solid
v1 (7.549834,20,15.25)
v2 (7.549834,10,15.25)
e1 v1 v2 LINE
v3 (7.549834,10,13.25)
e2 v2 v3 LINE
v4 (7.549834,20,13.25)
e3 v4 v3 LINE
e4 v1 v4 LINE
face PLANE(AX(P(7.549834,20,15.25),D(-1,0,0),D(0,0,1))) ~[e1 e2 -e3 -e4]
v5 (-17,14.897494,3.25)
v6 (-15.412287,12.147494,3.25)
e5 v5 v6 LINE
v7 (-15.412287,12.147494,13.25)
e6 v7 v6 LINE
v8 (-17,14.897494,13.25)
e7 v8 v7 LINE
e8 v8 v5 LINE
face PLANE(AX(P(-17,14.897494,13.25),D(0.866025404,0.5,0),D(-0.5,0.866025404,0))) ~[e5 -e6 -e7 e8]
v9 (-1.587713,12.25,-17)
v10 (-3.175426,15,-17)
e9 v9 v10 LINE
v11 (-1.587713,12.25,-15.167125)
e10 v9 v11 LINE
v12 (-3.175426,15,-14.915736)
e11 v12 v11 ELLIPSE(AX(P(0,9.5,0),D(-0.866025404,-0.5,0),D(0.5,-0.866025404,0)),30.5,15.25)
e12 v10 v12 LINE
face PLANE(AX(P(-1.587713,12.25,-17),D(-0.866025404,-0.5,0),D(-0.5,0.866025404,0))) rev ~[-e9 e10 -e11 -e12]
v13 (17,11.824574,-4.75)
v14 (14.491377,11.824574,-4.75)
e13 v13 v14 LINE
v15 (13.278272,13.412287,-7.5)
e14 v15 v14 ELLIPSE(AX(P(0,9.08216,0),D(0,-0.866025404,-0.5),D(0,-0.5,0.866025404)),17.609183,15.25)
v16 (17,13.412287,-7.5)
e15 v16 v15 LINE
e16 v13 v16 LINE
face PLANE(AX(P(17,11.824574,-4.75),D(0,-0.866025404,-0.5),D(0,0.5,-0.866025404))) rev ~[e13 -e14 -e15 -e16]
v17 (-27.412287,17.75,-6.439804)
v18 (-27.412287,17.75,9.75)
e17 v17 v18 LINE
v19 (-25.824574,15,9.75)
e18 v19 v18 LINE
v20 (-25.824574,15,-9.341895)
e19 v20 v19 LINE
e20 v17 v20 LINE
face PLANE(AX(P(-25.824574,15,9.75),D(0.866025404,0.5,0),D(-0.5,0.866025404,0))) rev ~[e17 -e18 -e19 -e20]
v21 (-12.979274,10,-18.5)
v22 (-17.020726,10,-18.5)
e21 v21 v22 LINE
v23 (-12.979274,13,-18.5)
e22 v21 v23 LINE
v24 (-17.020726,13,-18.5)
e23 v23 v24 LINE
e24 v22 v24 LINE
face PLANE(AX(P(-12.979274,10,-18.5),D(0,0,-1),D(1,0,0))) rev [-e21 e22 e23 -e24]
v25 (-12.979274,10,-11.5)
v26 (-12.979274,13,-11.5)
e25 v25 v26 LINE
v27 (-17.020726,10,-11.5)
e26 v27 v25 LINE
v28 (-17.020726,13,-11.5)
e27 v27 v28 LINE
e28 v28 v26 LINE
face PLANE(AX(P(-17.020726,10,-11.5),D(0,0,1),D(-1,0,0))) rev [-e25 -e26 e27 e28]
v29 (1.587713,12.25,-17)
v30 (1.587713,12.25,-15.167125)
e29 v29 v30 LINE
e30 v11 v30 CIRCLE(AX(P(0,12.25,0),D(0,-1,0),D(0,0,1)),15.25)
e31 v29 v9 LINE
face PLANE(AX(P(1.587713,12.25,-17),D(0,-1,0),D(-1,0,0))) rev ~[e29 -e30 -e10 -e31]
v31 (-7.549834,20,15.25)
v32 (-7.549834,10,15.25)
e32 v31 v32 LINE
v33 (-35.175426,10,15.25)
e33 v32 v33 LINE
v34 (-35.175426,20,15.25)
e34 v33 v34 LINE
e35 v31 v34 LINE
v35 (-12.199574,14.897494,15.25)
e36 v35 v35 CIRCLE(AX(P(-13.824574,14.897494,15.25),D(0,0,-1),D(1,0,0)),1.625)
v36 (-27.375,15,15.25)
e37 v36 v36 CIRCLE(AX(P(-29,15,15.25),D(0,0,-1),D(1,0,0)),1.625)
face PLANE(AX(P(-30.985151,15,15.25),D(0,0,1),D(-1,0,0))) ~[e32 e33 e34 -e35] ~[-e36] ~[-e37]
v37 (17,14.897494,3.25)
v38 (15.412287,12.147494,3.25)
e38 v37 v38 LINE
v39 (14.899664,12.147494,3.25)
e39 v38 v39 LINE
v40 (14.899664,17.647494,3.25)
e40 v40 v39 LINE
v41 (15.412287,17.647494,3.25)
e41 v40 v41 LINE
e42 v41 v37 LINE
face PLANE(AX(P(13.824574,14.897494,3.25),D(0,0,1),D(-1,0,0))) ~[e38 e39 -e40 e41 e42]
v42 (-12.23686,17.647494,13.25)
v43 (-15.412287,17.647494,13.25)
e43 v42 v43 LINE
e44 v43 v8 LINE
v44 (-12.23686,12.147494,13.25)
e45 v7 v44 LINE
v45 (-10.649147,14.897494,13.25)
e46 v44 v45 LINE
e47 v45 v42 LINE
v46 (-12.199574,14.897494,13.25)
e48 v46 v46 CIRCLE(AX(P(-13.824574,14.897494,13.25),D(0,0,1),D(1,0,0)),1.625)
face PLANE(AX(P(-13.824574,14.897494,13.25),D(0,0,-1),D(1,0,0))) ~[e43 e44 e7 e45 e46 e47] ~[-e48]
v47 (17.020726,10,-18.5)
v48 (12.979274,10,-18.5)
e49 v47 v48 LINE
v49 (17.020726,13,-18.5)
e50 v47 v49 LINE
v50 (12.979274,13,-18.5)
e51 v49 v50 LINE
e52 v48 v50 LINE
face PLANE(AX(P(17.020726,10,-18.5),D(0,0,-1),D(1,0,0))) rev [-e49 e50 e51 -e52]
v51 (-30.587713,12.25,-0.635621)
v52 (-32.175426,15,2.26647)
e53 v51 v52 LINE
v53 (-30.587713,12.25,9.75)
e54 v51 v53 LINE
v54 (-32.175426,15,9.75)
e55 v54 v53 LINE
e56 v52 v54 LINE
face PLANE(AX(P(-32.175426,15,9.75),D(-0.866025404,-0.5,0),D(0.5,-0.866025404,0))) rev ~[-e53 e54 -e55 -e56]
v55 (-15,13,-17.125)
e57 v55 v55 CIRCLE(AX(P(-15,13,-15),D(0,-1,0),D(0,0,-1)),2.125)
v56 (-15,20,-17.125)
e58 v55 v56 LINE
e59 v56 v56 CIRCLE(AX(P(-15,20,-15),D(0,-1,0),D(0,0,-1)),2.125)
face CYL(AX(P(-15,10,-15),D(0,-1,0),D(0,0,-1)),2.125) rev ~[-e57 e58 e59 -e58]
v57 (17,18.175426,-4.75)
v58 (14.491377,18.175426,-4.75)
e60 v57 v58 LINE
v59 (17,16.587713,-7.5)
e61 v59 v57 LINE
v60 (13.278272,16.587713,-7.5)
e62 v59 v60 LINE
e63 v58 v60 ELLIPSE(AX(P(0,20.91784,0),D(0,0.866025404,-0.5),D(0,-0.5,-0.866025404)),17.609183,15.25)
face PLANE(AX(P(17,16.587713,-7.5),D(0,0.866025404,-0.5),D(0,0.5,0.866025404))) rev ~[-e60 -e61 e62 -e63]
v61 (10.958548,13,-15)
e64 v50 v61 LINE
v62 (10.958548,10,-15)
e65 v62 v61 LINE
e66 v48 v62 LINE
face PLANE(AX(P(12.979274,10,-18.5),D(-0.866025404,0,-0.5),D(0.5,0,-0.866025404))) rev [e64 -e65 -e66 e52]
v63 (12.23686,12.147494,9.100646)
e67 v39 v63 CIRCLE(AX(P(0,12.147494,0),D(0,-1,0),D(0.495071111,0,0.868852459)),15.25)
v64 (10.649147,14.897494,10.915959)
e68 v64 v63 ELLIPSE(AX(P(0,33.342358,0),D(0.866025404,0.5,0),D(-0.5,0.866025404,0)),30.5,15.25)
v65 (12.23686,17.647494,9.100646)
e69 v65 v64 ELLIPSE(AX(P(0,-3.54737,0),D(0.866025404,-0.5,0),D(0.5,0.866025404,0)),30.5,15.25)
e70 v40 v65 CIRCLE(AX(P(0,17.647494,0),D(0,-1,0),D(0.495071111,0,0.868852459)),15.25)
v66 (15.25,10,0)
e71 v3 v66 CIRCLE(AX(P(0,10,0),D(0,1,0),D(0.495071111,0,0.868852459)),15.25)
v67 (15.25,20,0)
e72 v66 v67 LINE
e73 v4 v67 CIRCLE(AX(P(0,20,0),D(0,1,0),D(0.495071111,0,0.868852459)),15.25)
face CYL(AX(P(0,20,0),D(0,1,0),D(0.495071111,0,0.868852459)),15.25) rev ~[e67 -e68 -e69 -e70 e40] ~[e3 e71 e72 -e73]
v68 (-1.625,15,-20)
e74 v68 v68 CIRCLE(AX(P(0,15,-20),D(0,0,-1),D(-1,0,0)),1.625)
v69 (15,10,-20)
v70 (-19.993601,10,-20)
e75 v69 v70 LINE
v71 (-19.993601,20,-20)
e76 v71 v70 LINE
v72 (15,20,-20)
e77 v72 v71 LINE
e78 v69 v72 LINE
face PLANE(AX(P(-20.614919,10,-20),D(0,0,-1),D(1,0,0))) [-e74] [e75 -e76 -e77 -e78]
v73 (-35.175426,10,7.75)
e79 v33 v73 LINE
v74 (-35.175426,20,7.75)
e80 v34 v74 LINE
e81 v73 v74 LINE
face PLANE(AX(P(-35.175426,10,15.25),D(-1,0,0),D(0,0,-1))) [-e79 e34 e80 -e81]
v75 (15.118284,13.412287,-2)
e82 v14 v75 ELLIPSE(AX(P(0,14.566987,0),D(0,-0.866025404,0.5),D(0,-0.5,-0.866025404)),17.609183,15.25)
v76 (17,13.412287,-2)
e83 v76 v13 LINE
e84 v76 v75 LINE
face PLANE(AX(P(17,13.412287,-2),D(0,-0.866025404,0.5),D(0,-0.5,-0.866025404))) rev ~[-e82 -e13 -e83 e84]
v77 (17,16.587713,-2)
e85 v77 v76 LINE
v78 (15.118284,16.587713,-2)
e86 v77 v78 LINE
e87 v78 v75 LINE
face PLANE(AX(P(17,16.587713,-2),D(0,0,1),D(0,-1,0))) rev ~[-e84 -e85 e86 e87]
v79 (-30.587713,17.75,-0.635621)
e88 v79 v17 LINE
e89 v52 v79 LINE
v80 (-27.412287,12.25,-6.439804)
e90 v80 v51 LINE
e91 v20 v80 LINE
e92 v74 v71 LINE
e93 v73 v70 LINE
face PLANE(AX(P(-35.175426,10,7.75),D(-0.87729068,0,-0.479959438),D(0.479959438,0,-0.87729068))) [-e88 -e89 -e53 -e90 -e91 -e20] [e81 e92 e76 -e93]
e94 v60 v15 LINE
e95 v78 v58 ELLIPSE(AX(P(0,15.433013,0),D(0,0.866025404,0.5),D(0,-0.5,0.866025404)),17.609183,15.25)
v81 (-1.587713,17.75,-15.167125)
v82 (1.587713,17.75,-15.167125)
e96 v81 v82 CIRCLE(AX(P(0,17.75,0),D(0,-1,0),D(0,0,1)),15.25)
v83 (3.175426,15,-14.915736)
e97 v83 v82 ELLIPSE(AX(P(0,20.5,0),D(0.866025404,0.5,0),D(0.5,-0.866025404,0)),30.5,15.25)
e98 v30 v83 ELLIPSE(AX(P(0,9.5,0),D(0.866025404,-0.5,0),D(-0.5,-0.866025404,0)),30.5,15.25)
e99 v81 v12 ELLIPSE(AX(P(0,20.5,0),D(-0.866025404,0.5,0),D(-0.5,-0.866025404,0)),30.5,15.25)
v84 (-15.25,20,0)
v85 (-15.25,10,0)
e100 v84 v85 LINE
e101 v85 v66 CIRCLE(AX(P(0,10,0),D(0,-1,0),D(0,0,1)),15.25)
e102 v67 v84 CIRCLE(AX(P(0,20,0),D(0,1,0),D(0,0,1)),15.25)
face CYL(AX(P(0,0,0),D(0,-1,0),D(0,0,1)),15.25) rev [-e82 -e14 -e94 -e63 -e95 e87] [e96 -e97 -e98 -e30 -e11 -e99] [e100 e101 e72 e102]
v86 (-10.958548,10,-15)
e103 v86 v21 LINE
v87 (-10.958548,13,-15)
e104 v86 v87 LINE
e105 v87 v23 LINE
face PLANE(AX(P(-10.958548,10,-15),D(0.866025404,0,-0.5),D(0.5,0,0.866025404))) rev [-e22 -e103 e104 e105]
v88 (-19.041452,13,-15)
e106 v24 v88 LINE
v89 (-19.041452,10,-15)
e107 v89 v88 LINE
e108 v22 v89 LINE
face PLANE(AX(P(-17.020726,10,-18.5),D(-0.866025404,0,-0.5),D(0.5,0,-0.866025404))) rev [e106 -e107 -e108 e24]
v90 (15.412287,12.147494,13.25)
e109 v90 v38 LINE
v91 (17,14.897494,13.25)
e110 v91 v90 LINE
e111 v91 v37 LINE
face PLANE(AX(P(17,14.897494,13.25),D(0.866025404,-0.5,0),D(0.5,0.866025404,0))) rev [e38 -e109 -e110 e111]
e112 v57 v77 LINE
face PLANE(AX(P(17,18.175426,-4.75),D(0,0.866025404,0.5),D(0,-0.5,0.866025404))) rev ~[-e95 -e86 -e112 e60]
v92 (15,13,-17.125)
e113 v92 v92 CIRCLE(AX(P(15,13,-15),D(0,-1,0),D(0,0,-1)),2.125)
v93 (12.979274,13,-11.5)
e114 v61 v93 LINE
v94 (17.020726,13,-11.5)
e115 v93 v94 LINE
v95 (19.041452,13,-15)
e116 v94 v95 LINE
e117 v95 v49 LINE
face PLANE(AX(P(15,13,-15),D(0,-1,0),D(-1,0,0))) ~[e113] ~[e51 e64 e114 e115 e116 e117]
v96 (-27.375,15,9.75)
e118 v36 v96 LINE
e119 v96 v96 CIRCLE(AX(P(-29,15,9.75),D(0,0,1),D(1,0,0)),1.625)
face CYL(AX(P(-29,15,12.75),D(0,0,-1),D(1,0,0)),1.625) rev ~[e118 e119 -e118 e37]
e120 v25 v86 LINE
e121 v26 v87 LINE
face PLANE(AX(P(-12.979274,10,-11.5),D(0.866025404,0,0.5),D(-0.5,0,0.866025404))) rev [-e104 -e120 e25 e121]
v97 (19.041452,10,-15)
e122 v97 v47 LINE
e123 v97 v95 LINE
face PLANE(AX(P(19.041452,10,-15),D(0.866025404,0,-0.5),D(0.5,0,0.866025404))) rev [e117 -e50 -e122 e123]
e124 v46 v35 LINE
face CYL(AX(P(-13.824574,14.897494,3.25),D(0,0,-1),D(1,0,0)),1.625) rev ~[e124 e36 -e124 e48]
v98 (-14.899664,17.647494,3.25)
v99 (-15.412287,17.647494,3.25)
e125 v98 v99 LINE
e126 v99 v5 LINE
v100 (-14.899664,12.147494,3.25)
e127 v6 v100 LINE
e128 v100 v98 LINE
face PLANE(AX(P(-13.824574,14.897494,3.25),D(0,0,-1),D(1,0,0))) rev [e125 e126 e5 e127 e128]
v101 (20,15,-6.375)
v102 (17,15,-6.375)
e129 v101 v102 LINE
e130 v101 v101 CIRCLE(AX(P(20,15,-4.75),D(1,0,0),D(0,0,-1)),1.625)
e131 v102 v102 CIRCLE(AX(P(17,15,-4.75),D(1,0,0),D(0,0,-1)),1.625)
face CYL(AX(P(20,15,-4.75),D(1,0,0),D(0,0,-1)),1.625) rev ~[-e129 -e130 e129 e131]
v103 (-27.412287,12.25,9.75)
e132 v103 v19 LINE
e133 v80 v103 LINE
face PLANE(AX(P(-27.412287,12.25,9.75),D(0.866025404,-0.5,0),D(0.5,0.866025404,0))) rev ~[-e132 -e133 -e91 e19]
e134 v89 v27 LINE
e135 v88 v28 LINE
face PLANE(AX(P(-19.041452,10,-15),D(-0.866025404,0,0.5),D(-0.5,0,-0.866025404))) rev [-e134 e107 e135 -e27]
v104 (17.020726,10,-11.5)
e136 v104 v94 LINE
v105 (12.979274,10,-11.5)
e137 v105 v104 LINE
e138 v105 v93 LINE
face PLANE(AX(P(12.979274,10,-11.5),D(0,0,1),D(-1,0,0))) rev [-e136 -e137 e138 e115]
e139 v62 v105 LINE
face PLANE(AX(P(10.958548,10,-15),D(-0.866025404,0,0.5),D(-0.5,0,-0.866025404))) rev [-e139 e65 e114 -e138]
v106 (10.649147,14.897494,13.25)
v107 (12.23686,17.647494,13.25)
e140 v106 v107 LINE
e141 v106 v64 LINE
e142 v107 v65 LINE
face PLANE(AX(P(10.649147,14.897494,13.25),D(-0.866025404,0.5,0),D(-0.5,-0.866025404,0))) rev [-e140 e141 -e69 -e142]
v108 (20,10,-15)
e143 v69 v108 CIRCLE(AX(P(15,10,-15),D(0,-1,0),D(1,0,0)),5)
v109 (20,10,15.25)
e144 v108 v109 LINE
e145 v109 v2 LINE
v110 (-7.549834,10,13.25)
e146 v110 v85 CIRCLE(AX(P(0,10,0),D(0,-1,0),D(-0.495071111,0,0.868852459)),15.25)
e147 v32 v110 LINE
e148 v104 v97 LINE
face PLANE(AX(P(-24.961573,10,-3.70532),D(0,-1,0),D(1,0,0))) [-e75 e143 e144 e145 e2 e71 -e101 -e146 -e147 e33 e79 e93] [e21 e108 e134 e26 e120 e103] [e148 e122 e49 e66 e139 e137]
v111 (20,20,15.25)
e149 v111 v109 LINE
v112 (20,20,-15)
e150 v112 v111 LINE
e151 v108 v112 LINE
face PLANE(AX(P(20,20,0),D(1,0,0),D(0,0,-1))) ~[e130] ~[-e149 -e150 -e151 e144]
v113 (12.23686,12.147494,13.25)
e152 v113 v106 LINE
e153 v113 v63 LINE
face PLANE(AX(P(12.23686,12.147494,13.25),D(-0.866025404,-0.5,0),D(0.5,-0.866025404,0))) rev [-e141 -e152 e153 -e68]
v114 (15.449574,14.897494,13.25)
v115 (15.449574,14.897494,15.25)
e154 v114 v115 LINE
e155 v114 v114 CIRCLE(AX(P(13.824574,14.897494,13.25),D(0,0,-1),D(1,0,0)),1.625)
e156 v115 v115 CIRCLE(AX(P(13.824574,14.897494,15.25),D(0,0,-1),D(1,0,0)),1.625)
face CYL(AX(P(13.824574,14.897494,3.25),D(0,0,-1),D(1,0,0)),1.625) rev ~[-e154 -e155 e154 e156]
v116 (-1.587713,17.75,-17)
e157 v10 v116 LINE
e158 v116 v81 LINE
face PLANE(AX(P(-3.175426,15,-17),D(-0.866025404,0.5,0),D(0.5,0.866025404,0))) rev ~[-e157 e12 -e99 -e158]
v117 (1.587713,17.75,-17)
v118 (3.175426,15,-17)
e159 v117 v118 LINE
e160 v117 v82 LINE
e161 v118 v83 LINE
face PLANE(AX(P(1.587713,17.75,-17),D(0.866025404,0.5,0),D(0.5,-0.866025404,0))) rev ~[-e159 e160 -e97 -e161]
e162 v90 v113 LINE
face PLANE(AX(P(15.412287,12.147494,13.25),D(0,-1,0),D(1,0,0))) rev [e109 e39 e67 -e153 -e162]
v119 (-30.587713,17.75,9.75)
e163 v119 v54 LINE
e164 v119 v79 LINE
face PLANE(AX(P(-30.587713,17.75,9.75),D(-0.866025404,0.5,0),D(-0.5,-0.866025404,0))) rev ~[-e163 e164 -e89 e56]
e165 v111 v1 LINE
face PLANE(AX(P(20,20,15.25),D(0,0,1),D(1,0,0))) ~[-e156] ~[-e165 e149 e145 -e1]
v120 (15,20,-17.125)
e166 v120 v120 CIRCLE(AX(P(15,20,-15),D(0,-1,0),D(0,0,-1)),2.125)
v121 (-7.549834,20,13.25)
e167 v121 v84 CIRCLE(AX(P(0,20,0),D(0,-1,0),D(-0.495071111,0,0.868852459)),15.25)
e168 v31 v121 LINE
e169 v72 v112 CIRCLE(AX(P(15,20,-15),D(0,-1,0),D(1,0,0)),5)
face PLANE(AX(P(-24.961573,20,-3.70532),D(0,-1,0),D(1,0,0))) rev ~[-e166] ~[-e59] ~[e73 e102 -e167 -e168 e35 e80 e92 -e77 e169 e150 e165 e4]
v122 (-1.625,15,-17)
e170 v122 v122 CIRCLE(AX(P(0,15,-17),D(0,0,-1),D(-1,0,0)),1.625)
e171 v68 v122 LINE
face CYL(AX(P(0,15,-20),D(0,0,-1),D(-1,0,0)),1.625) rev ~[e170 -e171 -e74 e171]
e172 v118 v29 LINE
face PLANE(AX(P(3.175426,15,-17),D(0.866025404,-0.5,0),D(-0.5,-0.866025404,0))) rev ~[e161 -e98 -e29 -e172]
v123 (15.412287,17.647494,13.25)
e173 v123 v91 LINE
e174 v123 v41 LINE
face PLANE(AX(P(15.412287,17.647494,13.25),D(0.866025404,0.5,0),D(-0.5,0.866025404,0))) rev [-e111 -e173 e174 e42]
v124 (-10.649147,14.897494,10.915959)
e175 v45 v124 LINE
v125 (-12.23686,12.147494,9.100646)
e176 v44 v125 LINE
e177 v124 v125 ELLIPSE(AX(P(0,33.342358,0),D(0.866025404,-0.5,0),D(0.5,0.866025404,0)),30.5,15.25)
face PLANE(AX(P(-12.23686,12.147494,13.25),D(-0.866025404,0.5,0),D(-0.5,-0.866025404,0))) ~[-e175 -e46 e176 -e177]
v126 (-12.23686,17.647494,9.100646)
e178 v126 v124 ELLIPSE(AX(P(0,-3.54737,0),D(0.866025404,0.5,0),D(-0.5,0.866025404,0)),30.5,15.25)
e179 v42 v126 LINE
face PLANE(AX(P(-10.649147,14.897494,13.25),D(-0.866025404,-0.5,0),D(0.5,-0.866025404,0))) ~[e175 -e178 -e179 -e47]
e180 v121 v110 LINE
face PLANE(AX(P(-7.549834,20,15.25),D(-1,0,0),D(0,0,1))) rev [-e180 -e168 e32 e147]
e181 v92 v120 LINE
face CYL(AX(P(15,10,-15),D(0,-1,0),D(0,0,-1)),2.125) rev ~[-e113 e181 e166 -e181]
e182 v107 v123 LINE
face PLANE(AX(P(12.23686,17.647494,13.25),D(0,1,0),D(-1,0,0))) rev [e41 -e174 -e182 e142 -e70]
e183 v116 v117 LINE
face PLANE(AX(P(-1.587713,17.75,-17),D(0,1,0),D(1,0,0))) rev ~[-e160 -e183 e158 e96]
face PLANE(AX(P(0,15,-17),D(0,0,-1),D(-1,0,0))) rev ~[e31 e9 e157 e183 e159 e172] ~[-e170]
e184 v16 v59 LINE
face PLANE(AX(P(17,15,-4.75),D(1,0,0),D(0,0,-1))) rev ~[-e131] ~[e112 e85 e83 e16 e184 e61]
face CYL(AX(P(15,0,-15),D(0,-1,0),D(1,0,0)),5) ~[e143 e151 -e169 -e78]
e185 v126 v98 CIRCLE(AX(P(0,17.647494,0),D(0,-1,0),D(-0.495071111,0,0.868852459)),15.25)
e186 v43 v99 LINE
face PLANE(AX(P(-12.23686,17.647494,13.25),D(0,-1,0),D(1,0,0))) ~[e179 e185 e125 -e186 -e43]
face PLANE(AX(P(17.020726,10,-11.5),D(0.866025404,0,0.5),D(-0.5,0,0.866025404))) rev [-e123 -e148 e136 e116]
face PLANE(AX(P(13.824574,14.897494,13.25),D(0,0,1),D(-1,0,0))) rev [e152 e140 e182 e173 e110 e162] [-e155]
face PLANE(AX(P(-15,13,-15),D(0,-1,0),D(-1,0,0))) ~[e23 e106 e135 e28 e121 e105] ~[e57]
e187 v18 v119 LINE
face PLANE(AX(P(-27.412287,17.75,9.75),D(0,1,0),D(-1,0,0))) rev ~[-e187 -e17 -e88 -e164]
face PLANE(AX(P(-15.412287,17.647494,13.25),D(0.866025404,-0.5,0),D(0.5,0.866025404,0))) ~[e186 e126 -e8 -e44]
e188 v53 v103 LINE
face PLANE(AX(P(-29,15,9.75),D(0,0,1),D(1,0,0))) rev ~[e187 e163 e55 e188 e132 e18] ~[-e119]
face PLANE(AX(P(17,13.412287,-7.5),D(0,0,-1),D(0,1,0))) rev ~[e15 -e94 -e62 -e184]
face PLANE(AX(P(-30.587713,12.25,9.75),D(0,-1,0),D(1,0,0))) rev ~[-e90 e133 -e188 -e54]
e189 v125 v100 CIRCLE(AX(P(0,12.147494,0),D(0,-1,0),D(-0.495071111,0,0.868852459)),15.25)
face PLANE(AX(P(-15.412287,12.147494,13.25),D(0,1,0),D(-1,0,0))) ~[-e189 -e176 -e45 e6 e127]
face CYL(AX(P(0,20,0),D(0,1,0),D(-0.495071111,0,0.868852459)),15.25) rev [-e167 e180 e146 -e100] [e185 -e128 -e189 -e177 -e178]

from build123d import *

# Parameters (mm, degrees)
CROQUIS1_R                              = 15.25
CROQUIS1_R_2                            = 2.125
SOPORTE_CAJA_REDUCTORA_DEPTH            = 20
CROQUIS3_R                              = 2.125
CORTAR_EXTRUIR1_DEPTH                   = 51.423828692
REDONDEO1_R                             = 5
BOSS_EXTRUDE1_DEPTH                     = 20
CUT_EXTRUDE1_REACH                      = 55.852
SKETCH2_R                               = 1.625
CUT_EXTRUDE2_DEPTH                      = 2
SKETCH4_R                               = 1.625
CUT_EXTRUDE3_DEPTH                      = 63.291652731
CUT_EXTRUDE4_START                      = -4.5
CUT_EXTRUDE4_DEPTH                      = 2
CROQUIS6_W                              = 4.75
CROQUIS6_H                              = 4.75
CORTAR_EXTRUIR17_DEPTH                  = 42.231056256
CROQUIS7_W                              = 60
CROQUIS7_H                              = 20
CORTAR_EXTRUIR18_DEPTH                  = 51.423828692
SALIENTE_EXTRUIR2_DEPTH                 = 49
SOPORTE_START                           = -15
SOPORTE_MOTOR_DEPTH                     = 15
CROQUIS12_R                             = 2.125
AGUJEROS_DE_SUJECION_A_BASE_DEPTH       = 84.087679592
TUERCA_START                            = -4
TUERCA_AGUJERO_DE_SUJECION_A_BASE_DEPTH = 10
SALIENTE_EXTRUIR4_DEPTH                 = 15
CORTAR_EXTRUIR19_DEPTH                  = 25
CROQUIS14_W                             = 50
CROQUIS14_H                             = 118
CORTAR_EXTRUIR22_DEPTH                  = 146.556045907
CROQUIS15_W                             = 10
CROQUIS15_H                             = 7
CORTAR_EXTRUIR23_DEPTH                  = 42.231056256
CORTAR_EXTRUIR24_DEPTH                  = 42.231056256
CROQUIS18_W                             = 40
CROQUIS18_H                             = 10
CORTAR_EXTRUIR25_DEPTH                  = 44.27311521
SALIENTE_EXTRUIR5_DEPTH                 = 10
CROQUIS20_R                             = 1
CORTAR_EXTRUIR26_DEPTH                  = 49.229270158
CORTAR_EXTRUIR27_REACH                  = 62.959
CORTAR_EXTRUIR27_END_RADIUS             = 15.25
CROQUIS21_R                             = 1.625
CROQUIS22_R                             = 2.125
CROQUIS22_R_2                           = 1
SALIENTE_EXTRUIR6_DEPTH                 = 10
CROQUIS23_R                             = 1.625
CORTAR_EXTRUIR28_DEPTH                  = 52.269508521
CORTAR_EXTRUIR29_START                  = -3
CORTAR_EXTRUIR29_DEPTH                  = 10
SALIENTE_EXTRUIR7_DEPTH                 = 10
CORTAR_EXTRUIR30_REACH                  = 72.235
CROQUIS27_R                             = 1.625
CORTAR_EXTRUIR31_REACH                  = 75.235
CORTAR_EXTRUIR31_START                  = -3
CORTAR_EXTRUIR32_REACH                  = 58.612
CROQUIS29_R                             = 1.625
CORTAR_EXTRUIR33_REACH                  = 61.112
CORTAR_EXTRUIR33_START                  = -2.5
CROQUIS35_W                             = 13.305418987
CROQUIS35_H                             = 6.826864192
CORTAR_EXTRUIR34_DEPTH                  = 63.931555098
CORTAR_EXTRUIR34_DEPTH_BACK             = 63.931555098
CORTAR_EXTRUIR35_START                  = -3
CORTAR_EXTRUIR35_DEPTH                  = 10
SALIENTE_EXTRUIR8_DEPTH                 = 10
SALIENTE_EXTRUIR9_DEPTH                 = 13
SALIENTE_EXTRUIR10_DEPTH                = 3
CROQUIS40_W                             = 106.583537839
CROQUIS40_H                             = 47.391515964
CORTAR_EXTRUIR36_DEPTH                  = 80.887064817
CORTAR_EXTRUIR36_DEPTH_BACK             = 80.887064817
CORTAR_EXTRUIR37_DEPTH                  = 67.2524009
CORTAR_EXTRUIR37_DEPTH_BACK             = 67.2524009
CORTAR_EXTRUIR38_DEPTH                  = 79.704784639
CORTAR_EXTRUIR38_DEPTH_BACK             = 79.704784639
SALIENTE_EXTRUIR11_DEPTH                = 10
CORTAR_EXTRUIR39_DEPTH                  = 63.9908649
CROQUIS45_W                             = 31.470301378
CROQUIS45_H                             = 10
CROQUIS45_R                             = 1.625
SALIENTE_EXTRUIR12_DEPTH                = 2.5
SALIENTE_EXTRUIR13_DEPTH                = 10
CORTAR_EXTRUIR40_START                  = -2
CROQUIS47_R                             = 1.625
CORTAR_EXTRUIR40_DEPTH                  = 10
CORTAR_EXTRUIR41_START                  = -12
CROQUIS48_R                             = 1.625
CORTAR_EXTRUIR41_DEPTH                  = 12
CORTAR_EXTRUIR42_DEPTH                  = 3
CROQUIS50_W                             = 80.415439526
CROQUIS50_H                             = 16.145703155
CORTAR_EXTRUIR43_DEPTH                  = 66.767385996
CORTAR_EXTRUIR43_DEPTH_BACK             = 66.767385996
CROQUIS51_R                             = 2.125
CORTAR_EXTRUIR44_DEPTH                  = 52.795622989
CORTAR_EXTRUIR44_DEPTH_BACK             = 52.795622989
CORTAR_EXTRUIR45_DEPTH                  = 52.795622989
CORTAR_EXTRUIR45_DEPTH_BACK             = 52.795622989
SALIENTE_EXTRUIR14_DEPTH                = 10
CORTAR_EXTRUIR46_START                  = -5.5
CORTAR_EXTRUIR46_DEPTH                  = 49.164449388


with BuildPart() as part:
    # Croquis1 → Soporte caja reductora (new body)
    with BuildSketch(Plane(origin=(0, 0, 0), x_dir=(1, 0, 0), z_dir=(0, 1, 0))):
        Polygon((-30, -15.25), (-20, -15.25), (-20, -20), (20, -20), (20, -15.25), (30, -15.25), (30, -7.25), (20, -4.25), (20, 20), (-20, 20), (-20, -4.25), (-30, -7.25), align=None)
        with Locations(Location((0, 0, 0), (0, 0, 270))):
            Circle(CROQUIS1_R, mode=Mode.SUBTRACT)
        with Locations(Location((-15, 15, 0), (0, 0, 270))):
            Circle(CROQUIS1_R_2, mode=Mode.SUBTRACT)
        with Locations(Location((15, 15, 0), (0, 0, 270))):
            Circle(CROQUIS1_R_2, mode=Mode.SUBTRACT)
    extrude(amount=-SOPORTE_CAJA_REDUCTORA_DEPTH)

    # Croquis3 → Cortar-Extruir1 (cut, through all)
    with BuildSketch(Plane.XY.offset(15.25)):
        with Locations((-23.5, -10)):
            Circle(CROQUIS3_R)
        with Locations((23.5, -10)):
            Circle(CROQUIS3_R)
    extrude(amount=-CORTAR_EXTRUIR1_DEPTH, mode=Mode.SUBTRACT)

    # Redondeo1
    redondeo1_edges = [part.edges().sort_by_distance(p)[0] for p in [
        (-20, -10, -20),
        (20, -10, -20),
    ]]
    fillet(redondeo1_edges, radius=REDONDEO1_R)

    # Sketch1 → Boss-Extrude1 (add)
    with BuildSketch(Plane(origin=(0, 0, 0), x_dir=(1, 0, 0), z_dir=(0, 1, 0))):
        with BuildLine():
            Line((25.5, 15), (20, 15))
            ThreePointArc((20, 15), (18.535533906, 18.535533906), (15, 20))
            Line((15, 20), (30, 20))
            Line((30, 20), (30, 8))
            Line((30, 8), (25.5, 8))
            Line((25.5, 8), (25.5, 15))
        make_face()
    extrude(amount=-BOSS_EXTRUDE1_DEPTH)

    # Sketch2 → Cut-Extrude1 (cut, up to next)
    with BuildSketch(Plane(origin=(0, 0, -20), x_dir=(-1, 0, 0), z_dir=(0, 0, -1)), mode=Mode.PRIVATE) as cut_extrude1_sk1:
        with Locations((-22.75, -10)):
            Circle(SKETCH2_R)
    cut_extrude1_tool1 = extrude(cut_extrude1_sk1.sketch, amount=-CUT_EXTRUDE1_REACH, mode=Mode.PRIVATE) & part.part
    add(cut_extrude1_tool1.solids().sort_by_distance((22.75, -10, -20))[0], mode=Mode.SUBTRACT)

    # Sketch3 → Cut-Extrude2 (cut)
    with BuildSketch(Plane.XY.offset(-15)):
        Polygon((20, -11.58771324), (22.75, -13.175426481), (25.5, -11.58771324), (25.5, -8.41228676), (22.75, -6.824573519), (20, -8.41228676), align=None)
    extrude(amount=-CUT_EXTRUDE2_DEPTH, mode=Mode.SUBTRACT)

    # Sketch4 → Cut-Extrude3 (cut, through all)
    with BuildSketch(Plane.ZY.offset(-25.5)):
        with Locations((-12.25, -10)):
            Circle(SKETCH4_R)
    extrude(amount=-CUT_EXTRUDE3_DEPTH, mode=Mode.SUBTRACT)

    # Sketch5 → Cut-Extrude4 (cut)
    with BuildSketch(Plane(origin=(30, 0, 0), x_dir=(0, 0, -1), z_dir=(1, 0, 0)).offset(CUT_EXTRUDE4_START)):
        Polygon((15, -11.58771324), (15, -8.41228676), (12.25, -6.824573519), (9.5, -8.41228676), (9.5, -11.58771324), (12.25, -13.175426481), align=None)
    extrude(amount=CUT_EXTRUDE4_DEPTH, mode=Mode.SUBTRACT)

    # Croquis6 → Cortar-Extruir17 (cut, through all)
    with BuildSketch(Plane(origin=(0, 0, 0), x_dir=(1, 0, 0), z_dir=(0, 1, 0))):
        Polygon((0, -15.25), (-15.25, -15.25), (-15.25, -20), (15.25, -20), (15.25, -15.25), align=None)
        with Locations((-17.625, -17.625)):
            Rectangle(CROQUIS6_W, CROQUIS6_H)
        with BuildLine():
            ThreePointArc((0, -15.25), (-10.783378413, -10.783378413), (-15.25, 0))
            Line((-15.25, 0), (-15.25, -15.25))
            Line((-15.25, -15.25), (0, -15.25))
        make_face()
        with BuildLine():
            Line((15.25, -15.25), (15.25, 0))
            ThreePointArc((15.25, 0), (10.783378413, -10.783378413), (0, -15.25))
            Line((0, -15.25), (15.25, -15.25))
        make_face()
        with Locations((17.625, -17.625)):
            Rectangle(CROQUIS6_W, CROQUIS6_H)
    extrude(amount=-CORTAR_EXTRUIR17_DEPTH, mode=Mode.SUBTRACT)


with BuildPart() as body_2:
    # Simetría1: mirrored copy
    add(part.part.mirror(Plane.ZX))

    # Croquis8 → Saliente-Extruir2 (add)
    with BuildSketch(Plane(origin=(0, 20, 0), x_dir=(1, 0, 0), z_dir=(0, 1, 0))):
        with BuildLine():
            Line((-12.664515522, 20), (-11.040489496, 13.939052358))
            Line((-11.040489496, 13.939052358), (-10.315162126, 11.232093763))
            ThreePointArc((-10.315162126, 11.232093763), (0, 15.25), (10.315162126, 11.232093763))
            Line((10.315162126, 11.232093763), (10.817418481, 13.87928066))
            Line((10.817418481, 13.87928066), (11.978715476, 20))
            Line((11.978715476, 20), (-12.664515522, 20))
        make_face()
    extrude(amount=SALIENTE_EXTRUIR2_DEPTH)

    # Croquis9 → Soporte motor (add)
    with BuildSketch(Plane(origin=(0, 69, 0), x_dir=(1, 0, 0), z_dir=(0, 1, 0)).offset(SOPORTE_START)):
        with BuildLine():
            Line((-20, 15), (-20, -4.25))
            Line((-20, -4.25), (-30, -7.25))
            Line((-30, -7.25), (-30, -15.25))
            Line((-30, -15.25), (0, -15.25))
            Line((0, -15.25), (0, -14.75))
            ThreePointArc((0, -14.75), (-10.429825023, 10.429825023), (14.75, 0))
            Line((14.75, 0), (20, 0))
            Line((20, 0), (20, 13.936837101))
            Line((20, 13.936837101), (12.664515522, 20))
            Line((12.664515522, 20), (-15, 20))
            ThreePointArc((-15, 20), (-18.535533906, 18.535533906), (-20, 15))
        make_face()
    extrude(amount=-SOPORTE_MOTOR_DEPTH)

    # Croquis12 → Agujeros de sujecion a base (cut, through all)
    with BuildSketch(Plane.XY.offset(15.25)):
        with Locations((-23.5, 46.5)):
            Circle(CROQUIS12_R)
    extrude(amount=-AGUJEROS_DE_SUJECION_A_BASE_DEPTH, mode=Mode.SUBTRACT)

    # Croquis13 → Tuerca Agujero de sujecion a base (cut)
    with BuildSketch(Plane.XY.offset(15.25).offset(TUERCA_START)):
        Polygon((-20, 44.479274058), (-20, 48.520725942), (-23.5, 50.541451884), (-27, 48.520725942), (-27, 44.479274058), (-23.5, 42.458548116), align=None)
    extrude(amount=-TUERCA_AGUJERO_DE_SUJECION_A_BASE_DEPTH, mode=Mode.SUBTRACT)

    # Croquis10 → Saliente-Extruir4 (add)
    with BuildSketch(Plane(origin=(0, 69, 0), x_dir=(1, 0, 0), z_dir=(0, 1, 0))):
        with BuildLine():
            ThreePointArc((10.315162126, 11.232093763), (0, 15.25), (-10.315162126, 11.232093763))
            Line((-10.315162126, 11.232093763), (-10.16850369, 10.684757026))
            ThreePointArc((-10.16850369, 10.684757026), (0, 14.75), (10.16850369, 10.684757026))
            Line((10.16850369, 10.684757026), (10.315162126, 11.232093763))
        make_face()
    extrude(amount=-SALIENTE_EXTRUIR4_DEPTH)

    # Croquis11 → Cortar-Extruir19 (cut)
    with BuildSketch(Plane.XZ):
        with BuildLine():
            Line((15.25, 4.25), (20, 4.25))
            Line((20, 4.25), (21.972856468, 4.84185694))
            ThreePointArc((21.972856468, 4.84185694), (19.948931102, 10.40625523), (16.543503257, 15.25))
            Line((16.543503257, 15.25), (15.25, 15.25))
            Line((15.25, 15.25), (15.25, 4.25))
        make_face()
        with BuildLine():
            Line((21.972856468, 4.84185694), (30, 7.25))
            Line((30, 7.25), (30, 15.25))
            Line((30, 15.25), (16.543503257, 15.25))
            ThreePointArc((16.543503257, 15.25), (19.948931102, 10.40625523), (21.972856468, 4.84185694))
        make_face()
        with BuildLine():
            ThreePointArc((20, -15), (18.535533906, -18.535533906), (15, -20))
            Line((15, -20), (30, -20))
            Line((30, -20), (30, -8))
            Line((30, -8), (25.5, -8))
            Line((25.5, -8), (25.5, -15))
            Line((25.5, -15), (20, -15))
        make_face()
    extrude(amount=-CORTAR_EXTRUIR19_DEPTH, mode=Mode.SUBTRACT)

    # Simetría2: body 2 across face


with BuildPart() as part_1:
    add(part.part)

    # Croquis7 → Cortar-Extruir18 (cut, through all)
    with BuildSketch(Plane(origin=(0, 0, -20), x_dir=(-1, 0, 0), z_dir=(0, 0, -1))):
        with Locations((0, -10)):
            Rectangle(CROQUIS7_W, CROQUIS7_H)
    extrude(amount=-CORTAR_EXTRUIR18_DEPTH, mode=Mode.SUBTRACT)


with BuildPart() as body_2_1:
    add(body_2.part)
    add(body_2.part.mirror(Plane(origin=(-0.229209569, 69, -16.663998028), x_dir=(0, 0, 1), z_dir=(0, 1, 0))))

    # Croquis14 → Cortar-Extruir22 (cut, through all)
    with BuildSketch(Plane.XY.offset(15.25)):
        with Locations((-5, 79)):
            Rectangle(CROQUIS14_W, CROQUIS14_H)
    extrude(amount=-CORTAR_EXTRUIR22_DEPTH, mode=Mode.SUBTRACT)

    # Croquis15 → Cortar-Extruir23 (cut, through all)
    with BuildSketch(Plane.XZ):
        with Locations((-25, 7.75)):
            Rectangle(CROQUIS15_W, CROQUIS15_H)
    extrude(amount=-CORTAR_EXTRUIR23_DEPTH, mode=Mode.SUBTRACT)

    # Croquis16 → Cortar-Extruir24 (cut, through all)
    with BuildSketch(Plane.XZ):
        Polygon((-30, 15.25), (-15.25, 15.25), (-15.25, 12.75), (-20, 12.75), (-20, 11.25), (-30, 11.25), (-30, 12.75), align=None)
    extrude(amount=-CORTAR_EXTRUIR24_DEPTH, mode=Mode.SUBTRACT)

    # Croquis18 → Cortar-Extruir25 (cut, through all)
    with BuildSketch(Plane(origin=(0, 0, -20), x_dir=(-1, 0, 0), z_dir=(0, 0, -1))):
        with Locations((0, 5)):
            Rectangle(CROQUIS18_W, CROQUIS18_H)
    extrude(amount=-CORTAR_EXTRUIR25_DEPTH, mode=Mode.SUBTRACT)

    # Croquis19 → Saliente-Extruir5 (add)
    with BuildSketch(Plane(origin=(0, 20, 0), x_dir=(1, 0, 0), z_dir=(0, 1, 0))):
        Polygon((-20, -12.75), (-34, -12.75), (-34, -7.75), (-24, -7.75), (-20, -3.75), align=None)
    extrude(amount=-SALIENTE_EXTRUIR5_DEPTH)

    # Croquis20 → Cortar-Extruir26 (cut, through all)
    with BuildSketch(Plane(origin=(0, 0, 7.75), x_dir=(-1, 0, 0), z_dir=(0, 0, -1))):
        with Locations((29, 15)):
            Circle(CROQUIS20_R)
    extrude(amount=-CORTAR_EXTRUIR26_DEPTH, mode=Mode.SUBTRACT)

    # Cortar-Extruir27: up to this cylinder (the profile starts outside it)
    cortar_extruir27_end = Plane(origin=(0, 15, 0), z_dir=(0, -1, 0)) * Cylinder(CORTAR_EXTRUIR27_END_RADIUS, 157.418, mode=Mode.PRIVATE)
    # Croquis21 → Cortar-Extruir27 (cut, up to the surface)
    with BuildSketch(Plane(origin=(20, 0, 0), x_dir=(0, 0, -1), z_dir=(1, 0, 0)), mode=Mode.PRIVATE) as cortar_extruir27_sk1:
        with Locations((4.75, 15)):
            Circle(CROQUIS21_R)
    cortar_extruir27_tool1 = extrude(cortar_extruir27_sk1.sketch, amount=-CORTAR_EXTRUIR27_REACH, mode=Mode.PRIVATE) - cortar_extruir27_end
    add(cortar_extruir27_tool1.solids().sort_by_distance((20, 15, -4.75))[0], mode=Mode.SUBTRACT)

    # Croquis22 → Saliente-Extruir6 (add)
    with BuildSketch(Plane.XZ.offset(-10)):
        with Locations((-15, -15)):
            Circle(CROQUIS22_R)
        with Locations(Location((-15, -15, 0), (0, 0, 270))):
            Circle(CROQUIS22_R_2, mode=Mode.SUBTRACT)
        with Locations((15, -15)):
            Circle(CROQUIS22_R)
        with Locations(Location((15, -15, 0), (0, 0, 270))):
            Circle(CROQUIS22_R_2, mode=Mode.SUBTRACT)
    extrude(amount=-SALIENTE_EXTRUIR6_DEPTH)

    # Croquis23 → Cortar-Extruir28 (cut, through all)
    with BuildSketch(Plane(origin=(0, 0, -20), x_dir=(-1, 0, 0), z_dir=(0, 0, -1))):
        with Locations((0, 15)):
            Circle(CROQUIS23_R)
    extrude(amount=-CORTAR_EXTRUIR28_DEPTH, mode=Mode.SUBTRACT)

    # Croquis24 → Cortar-Extruir29 (cut)
    with BuildSketch(Plane(origin=(0, 0, -20), x_dir=(-1, 0, 0), z_dir=(0, 0, -1)).offset(CORTAR_EXTRUIR29_START)):
        Polygon((1.58771324, 12.25), (3.175426481, 15), (1.58771324, 17.75), (-1.58771324, 17.75), (-3.175426481, 15), (-1.58771324, 12.25), align=None)
    extrude(amount=-CORTAR_EXTRUIR29_DEPTH, mode=Mode.SUBTRACT)

    # Croquis26 → Saliente-Extruir7 (add)
    with BuildSketch(Plane.XZ.offset(-10)):
        Polygon((-34, 7.75), (-34, 12.75), (-58.825, 12.75), (-39.160527763, -4.104491148), (-20, -4.104491148), (-20, -0.104491148), (-35.732113118, -0.104491148), (-29, 7.75), align=None)
        Polygon((-34.268209086, 7.75), (-39.594516123, 1.535690951), (-46.844874897, 7.75), align=None, mode=Mode.SUBTRACT)
    extrude(amount=-SALIENTE_EXTRUIR7_DEPTH)

    # Croquis27 → Cortar-Extruir30 (cut, up to next)
    with BuildSketch(Plane.XY.offset(12.75), mode=Mode.PRIVATE) as cortar_extruir30_sk1:
        with Locations((-40.544874897, 15)):
            Circle(CROQUIS27_R)
    cortar_extruir30_tool1 = extrude(cortar_extruir30_sk1.sketch, amount=-CORTAR_EXTRUIR30_REACH, mode=Mode.PRIVATE) & body_2_1.part
    # Croquis27 → Cortar-Extruir30 (cut, up to next)
    with BuildSketch(Plane.XY.offset(12.75), mode=Mode.PRIVATE) as cortar_extruir30_sk2:
        with Locations((-29, 15)):
            Circle(CROQUIS27_R)
    cortar_extruir30_tool2 = extrude(cortar_extruir30_sk2.sketch, amount=-CORTAR_EXTRUIR30_REACH, mode=Mode.PRIVATE) & body_2_1.part
    add(cortar_extruir30_tool1.solids().sort_by_distance((-40.544875, 15, 12.75))[0], mode=Mode.SUBTRACT)
    add(cortar_extruir30_tool2.solids().sort_by_distance((-29, 15, 12.75))[0], mode=Mode.SUBTRACT)

    # Croquis28 → Cortar-Extruir31 (cut, up to next)
    with BuildSketch(Plane.XY.offset(12.75).offset(CORTAR_EXTRUIR31_START), mode=Mode.PRIVATE) as cortar_extruir31_sk1:
        Polygon((-38.957161657, 12.25), (-37.369448416, 15), (-38.957161657, 17.75), (-42.132588137, 17.75), (-43.720301378, 15), (-42.132588137, 12.25), align=None)
    cortar_extruir31_tool1 = extrude(cortar_extruir31_sk1.sketch, amount=-CORTAR_EXTRUIR31_REACH, mode=Mode.PRIVATE) & body_2_1.part
    # Croquis28 → Cortar-Extruir31 (cut, up to next)
    with BuildSketch(Plane.XY.offset(12.75).offset(CORTAR_EXTRUIR31_START), mode=Mode.PRIVATE) as cortar_extruir31_sk2:
        Polygon((-27.41228676, 12.25), (-25.824573519, 15), (-27.41228676, 17.75), (-30.58771324, 17.75), (-32.175426481, 15), (-30.58771324, 12.25), align=None)
    cortar_extruir31_tool2 = extrude(cortar_extruir31_sk2.sketch, amount=-CORTAR_EXTRUIR31_REACH, mode=Mode.PRIVATE) & body_2_1.part
    add(cortar_extruir31_tool1.solids().sort_by_distance((-40.544875, 15, 9.75))[0], mode=Mode.SUBTRACT)
    add(cortar_extruir31_tool2.solids().sort_by_distance((-29, 15, 9.75))[0], mode=Mode.SUBTRACT)

    # Croquis29 → Cortar-Extruir32 (cut, up to next)
    with BuildSketch(Plane(origin=(-18.612848159, 0, -21.715982563), x_dir=(-0.7592713073348843, 0, 0.6507742172658468), z_dir=(-0.6507742172658468, 0, -0.7592713073348843)), mode=Mode.PRIVATE) as cortar_extruir32_sk1:
        with Locations((33.812368097, 15)):
            Circle(CROQUIS29_R)
    cortar_extruir32_tool1 = extrude(cortar_extruir32_sk1.sketch, amount=-CORTAR_EXTRUIR32_REACH, mode=Mode.PRIVATE) & body_2_1.part
    add(cortar_extruir32_tool1.solids().sort_by_distance((-44.285609, 15, 0.288235))[0], mode=Mode.SUBTRACT)

    # Croquis31 → Cortar-Extruir33 (cut, up to next)
    with BuildSketch(Plane(origin=(-18.612848159, 0, -21.715982563), x_dir=(-0.7592713073348843, 0, 0.6507742172658468), z_dir=(-0.6507742172658468, 0, -0.7592713073348843)).offset(CORTAR_EXTRUIR33_START), mode=Mode.PRIVATE) as cortar_extruir33_sk1:
        Polygon((36.562368097, 16.58771324), (33.812368097, 18.175426481), (31.062368097, 16.58771324), (31.062368097, 13.41228676), (33.812368097, 11.824573519), (36.562368097, 13.41228676), align=None)
    cortar_extruir33_tool1 = extrude(cortar_extruir33_sk1.sketch, amount=-CORTAR_EXTRUIR33_REACH, mode=Mode.PRIVATE) & body_2_1.part
    add(cortar_extruir33_tool1.solids().sort_by_distance((-42.658674, 15, 2.186413))[0], mode=Mode.SUBTRACT)

    # Croquis35 → Cortar-Extruir34 (cut, two sides)
    with BuildSketch(Plane(origin=(0, 20, 0), x_dir=(1, 0, 0), z_dir=(0, 1, 0))) as cortar_extruir34_sk:
        with Locations((17.04227466, -3.413432096)):
            Rectangle(CROQUIS35_W, CROQUIS35_H)
    extrude(amount=CORTAR_EXTRUIR34_DEPTH, mode=Mode.SUBTRACT)
    extrude(cortar_extruir34_sk.sketch, amount=-CORTAR_EXTRUIR34_DEPTH_BACK, mode=Mode.SUBTRACT)

    # Croquis36 → Cortar-Extruir35 (cut)
    with BuildSketch(Plane(origin=(20, 0, 0), x_dir=(0, 0, -1), z_dir=(1, 0, 0)).offset(CORTAR_EXTRUIR35_START)):
        Polygon((7.5, 16.58771324), (4.75, 18.175426481), (2, 16.58771324), (2, 13.41228676), (4.75, 11.824573519), (7.5, 13.41228676), align=None)
    extrude(amount=-CORTAR_EXTRUIR35_DEPTH, mode=Mode.SUBTRACT)

    # Croquis37 → Saliente-Extruir8 (add)
    with BuildSketch(Plane.XZ.offset(-10)):
        Polygon((-39.160527763, -4.104491148), (-20.614919368, -20), (-15, -20), (-19.558128305, -15.637570403), (-33.014002756, -4.104491148), align=None)
    extrude(amount=-SALIENTE_EXTRUIR8_DEPTH)

    # Croquis38 → Saliente-Extruir9 (add)
    with BuildSketch(Plane.XZ.offset(-10)):
        Polygon((-58.825, 12.75), (-38.825, 12.75), (-38.825, 9.75), (-55.324839942, 9.75), align=None)
    extrude(amount=SALIENTE_EXTRUIR9_DEPTH)

    # Croquis39 → Saliente-Extruir10 (add)
    with BuildSketch(Plane.XZ.offset(-10)):
        Polygon((-38.825, 9.75), (-38.825, 7.75), (-38.825, 5.75), (-50.657959865, 5.75), (-52.991399903, 7.75), (-55.324839942, 9.75), align=None)
    extrude(amount=SALIENTE_EXTRUIR10_DEPTH)

    # Simetría3: body 2 across face


with BuildPart() as body_2_2:
    add(body_2_1.part)
    add(body_2_1.part.mirror(Plane(origin=(-18.003999227, 20, -4.220503046), x_dir=(0, 0, 1), z_dir=(0, 1, 0))))

    # Croquis40 → Cortar-Extruir36 (cut, two sides)
    with BuildSketch(Plane(origin=(0, 0, -20), x_dir=(-1, 0, 0), z_dir=(0, 0, -1))) as cortar_extruir36_sk:
        with Locations((22.395502026, -3.695757982)):
            Rectangle(CROQUIS40_W, CROQUIS40_H)
    extrude(amount=CORTAR_EXTRUIR36_DEPTH, mode=Mode.SUBTRACT)
    extrude(cortar_extruir36_sk.sketch, amount=-CORTAR_EXTRUIR36_DEPTH_BACK, mode=Mode.SUBTRACT)

    # Croquis41 → Cortar-Extruir37 (cut, two sides)
    with BuildSketch(Plane.XZ.offset(-20)) as cortar_extruir37_sk:
        Polygon((-19.992980133, -22.302484261), (-20, 3.75), (-24, 7.75), (-56.035110209, 7.75), align=None)
    extrude(amount=CORTAR_EXTRUIR37_DEPTH, mode=Mode.SUBTRACT)
    extrude(cortar_extruir37_sk.sketch, amount=-CORTAR_EXTRUIR37_DEPTH_BACK, mode=Mode.SUBTRACT)

    # Croquis42 → Cortar-Extruir38 (cut, two sides)
    with BuildSketch(Plane(origin=(0, 0, 9.75), x_dir=(-1, 0, 0), z_dir=(0, 0, -1))) as cortar_extruir38_sk:
        Polygon((46.720301378, 20), (46.720301378, 30), (38.825, 30), (33.492952769, 43.760628779), (49.525340398, 48.951442806), (67.200390695, 42.512205152), (65.906601328, 20), (51.713995885, 13.864168239), align=None)
    extrude(amount=CORTAR_EXTRUIR38_DEPTH, mode=Mode.SUBTRACT)
    extrude(cortar_extruir38_sk.sketch, amount=-CORTAR_EXTRUIR38_DEPTH_BACK, mode=Mode.SUBTRACT)

    # Croquis43 → Saliente-Extruir11 (add)
    with BuildSketch(Plane.XZ.offset(-20)):
        Polygon((-19.993600539, -20), (-46.720301378, 7.75), (-43.839252857, 10.524807997), (-17.112552018, -17.225192003), align=None)
    extrude(amount=-SALIENTE_EXTRUIR11_DEPTH)

    # Croquis44 → Cortar-Extruir39 (cut, through all)
    with BuildSketch(Plane(origin=(0, 0, 9.75), x_dir=(-1, 0, 0), z_dir=(0, 0, -1))):
        Polygon((38.957161657, 27.75), (37.369448416, 25), (38.957161657, 22.25), (42.132588137, 22.25), (43.720301378, 25), (42.132588137, 27.75), align=None)
    extrude(amount=CORTAR_EXTRUIR39_DEPTH, mode=Mode.SUBTRACT)

    # Croquis45 → Saliente-Extruir12 (add)
    with BuildSketch(Plane.XY.offset(12.75)):
        with Locations((-30.985150689, 25)):
            Rectangle(CROQUIS45_W, CROQUIS45_H)
        with Locations((-40.544874897, 25)):
            Circle(CROQUIS45_R, mode=Mode.SUBTRACT)
        with Locations((-29, 25)):
            Circle(CROQUIS45_R, mode=Mode.SUBTRACT)
    extrude(amount=SALIENTE_EXTRUIR12_DEPTH)

    # Croquis46 → Saliente-Extruir13 (add)
    with BuildSketch(Plane.XZ.offset(-20)):
        with BuildLine():
            Line((15.25, 0), (20, 0))
            Line((20, 0), (20, 15.25))
            Line((20, 15.25), (7.549834435, 15.25))
            Line((7.549834435, 15.25), (7.549834435, 13.25))
            ThreePointArc((7.549834435, 13.25), (13.185171124, 7.662490615), (15.25, 0))
        make_face()
        with BuildLine():
            Line((-15.25, 0), (-15.25, 15.25))
            Line((-15.25, 15.25), (-7.549834435, 15.25))
            Line((-7.549834435, 15.25), (-7.549834435, 13.25))
            ThreePointArc((-7.549834435, 13.25), (-13.185171124, 7.662490615), (-15.25, 0))
        make_face()
    extrude(amount=-SALIENTE_EXTRUIR13_DEPTH)

    # Croquis47 → Cortar-Extruir40 (cut)
    with BuildSketch(Plane.XY.offset(15.25).offset(CORTAR_EXTRUIR40_START)):
        Polygon((15.41228676, 22.352505966), (17, 25.102505966), (15.41228676, 27.852505966), (12.236860279, 27.852505966), (10.649147039, 25.102505966), (12.236860279, 22.352505966), align=None)
        with Locations((13.824573519, 25.102505966)):
            Circle(CROQUIS47_R, mode=Mode.SUBTRACT)
        Polygon((-12.236860279, 22.352505966), (-15.41228676, 22.352505966), (-17, 25.102505966), (-15.41228676, 27.852505966), (-12.236860279, 27.852505966), (-10.649147039, 25.102505966), align=None)
        with Locations(Location((-13.824573519, 25.102505966, 0), (0, 0, 131.421584744))):
            Circle(CROQUIS47_R, mode=Mode.SUBTRACT)
    extrude(amount=-CORTAR_EXTRUIR40_DEPTH, mode=Mode.SUBTRACT)

    # Croquis48 → Cortar-Extruir41 (cut)
    with BuildSketch(Plane.XY.offset(15.25).offset(CORTAR_EXTRUIR41_START)):
        with Locations((13.824573519, 25.102505966)):
            Circle(CROQUIS48_R)
        with Locations((-13.824573519, 25.102505966)):
            Circle(CROQUIS48_R)
    extrude(amount=CORTAR_EXTRUIR41_DEPTH, mode=Mode.SUBTRACT)

    # Croquis49 → Cortar-Extruir42 (cut)
    with BuildSketch(Plane(origin=(0, 30, 0), x_dir=(1, 0, 0), z_dir=(0, 1, 0))):
        Polygon((-12.979274058, 11.5), (-10.958548116, 15), (-12.979274058, 18.5), (-17.020725942, 18.5), (-19.041451884, 15), (-17.020725942, 11.5), align=None)
        Polygon((17.020725942, 11.5), (19.041451884, 15), (17.020725942, 18.5), (12.979274058, 18.5), (10.958548116, 15), (12.979274058, 11.5), align=None)
    extrude(amount=-CORTAR_EXTRUIR42_DEPTH, mode=Mode.SUBTRACT)

    # Simetría4: body 2 across plane


with BuildPart() as body_2_3:
    add(body_2_2.part)
    add(body_2_2.part.mirror(Plane(origin=(30.896266894, 20, 12.75), x_dir=(0, 0, 1), z_dir=(0, 1, 0))))

    # Croquis50 → Cortar-Extruir43 (cut, two sides)
    with BuildSketch(Plane(origin=(0, 0, -20), x_dir=(-1, 0, 0), z_dir=(0, 0, -1))) as cortar_extruir43_sk:
        with Locations((12.268612219, 28.072851577)):
            Rectangle(CROQUIS50_W, CROQUIS50_H)
    extrude(amount=CORTAR_EXTRUIR43_DEPTH, mode=Mode.SUBTRACT)
    extrude(cortar_extruir43_sk.sketch, amount=-CORTAR_EXTRUIR43_DEPTH_BACK, mode=Mode.SUBTRACT)

    # Croquis51 → Cortar-Extruir44 (cut, two sides)
    with BuildSketch(Plane.XZ.offset(-10)) as cortar_extruir44_sk:
        with Locations(Location((-15, -15, 0), (0, 0, 270))):
            Circle(CROQUIS51_R)
        with Locations(Location((15, -15, 0), (0, 0, 270))):
            Circle(CROQUIS51_R)
    extrude(amount=CORTAR_EXTRUIR44_DEPTH, mode=Mode.SUBTRACT)
    extrude(cortar_extruir44_sk.sketch, amount=-CORTAR_EXTRUIR44_DEPTH_BACK, mode=Mode.SUBTRACT)

    # Croquis52 → Cortar-Extruir45 (cut, two sides)
    with BuildSketch(Plane.XZ.offset(-10)) as cortar_extruir45_sk:
        Polygon((-35.175426481, 15.25), (-35.175426481, 7.75), (-19.995154673, -14.232221634), (-19.993600539, -20), (-54.542897094, 5.516026969), (-50.455586096, 20.949060485), align=None)
    extrude(amount=CORTAR_EXTRUIR45_DEPTH, mode=Mode.SUBTRACT)
    extrude(cortar_extruir45_sk.sketch, amount=-CORTAR_EXTRUIR45_DEPTH_BACK, mode=Mode.SUBTRACT)

    # Croquis53 → Saliente-Extruir14 (add)
    with BuildSketch(Plane.XZ.offset(-10)):
        Polygon((-35.175426481, 7.75), (-19.993600539, -20), (-20, 3.75), (-24, 7.75), align=None)
    extrude(amount=-SALIENTE_EXTRUIR14_DEPTH)

    # Croquis54 → Cortar-Extruir46 (cut, through all)
    with BuildSketch(Plane.XY.offset(15.25).offset(CORTAR_EXTRUIR46_START)):
        Polygon((-27.41228676, 17.75), (-30.58771324, 17.75), (-32.175426481, 15), (-30.58771324, 12.25), (-27.41228676, 12.25), (-25.824573519, 15), align=None)
    extrude(amount=-CORTAR_EXTRUIR46_DEPTH, mode=Mode.SUBTRACT)


solid = body_2_3.part
